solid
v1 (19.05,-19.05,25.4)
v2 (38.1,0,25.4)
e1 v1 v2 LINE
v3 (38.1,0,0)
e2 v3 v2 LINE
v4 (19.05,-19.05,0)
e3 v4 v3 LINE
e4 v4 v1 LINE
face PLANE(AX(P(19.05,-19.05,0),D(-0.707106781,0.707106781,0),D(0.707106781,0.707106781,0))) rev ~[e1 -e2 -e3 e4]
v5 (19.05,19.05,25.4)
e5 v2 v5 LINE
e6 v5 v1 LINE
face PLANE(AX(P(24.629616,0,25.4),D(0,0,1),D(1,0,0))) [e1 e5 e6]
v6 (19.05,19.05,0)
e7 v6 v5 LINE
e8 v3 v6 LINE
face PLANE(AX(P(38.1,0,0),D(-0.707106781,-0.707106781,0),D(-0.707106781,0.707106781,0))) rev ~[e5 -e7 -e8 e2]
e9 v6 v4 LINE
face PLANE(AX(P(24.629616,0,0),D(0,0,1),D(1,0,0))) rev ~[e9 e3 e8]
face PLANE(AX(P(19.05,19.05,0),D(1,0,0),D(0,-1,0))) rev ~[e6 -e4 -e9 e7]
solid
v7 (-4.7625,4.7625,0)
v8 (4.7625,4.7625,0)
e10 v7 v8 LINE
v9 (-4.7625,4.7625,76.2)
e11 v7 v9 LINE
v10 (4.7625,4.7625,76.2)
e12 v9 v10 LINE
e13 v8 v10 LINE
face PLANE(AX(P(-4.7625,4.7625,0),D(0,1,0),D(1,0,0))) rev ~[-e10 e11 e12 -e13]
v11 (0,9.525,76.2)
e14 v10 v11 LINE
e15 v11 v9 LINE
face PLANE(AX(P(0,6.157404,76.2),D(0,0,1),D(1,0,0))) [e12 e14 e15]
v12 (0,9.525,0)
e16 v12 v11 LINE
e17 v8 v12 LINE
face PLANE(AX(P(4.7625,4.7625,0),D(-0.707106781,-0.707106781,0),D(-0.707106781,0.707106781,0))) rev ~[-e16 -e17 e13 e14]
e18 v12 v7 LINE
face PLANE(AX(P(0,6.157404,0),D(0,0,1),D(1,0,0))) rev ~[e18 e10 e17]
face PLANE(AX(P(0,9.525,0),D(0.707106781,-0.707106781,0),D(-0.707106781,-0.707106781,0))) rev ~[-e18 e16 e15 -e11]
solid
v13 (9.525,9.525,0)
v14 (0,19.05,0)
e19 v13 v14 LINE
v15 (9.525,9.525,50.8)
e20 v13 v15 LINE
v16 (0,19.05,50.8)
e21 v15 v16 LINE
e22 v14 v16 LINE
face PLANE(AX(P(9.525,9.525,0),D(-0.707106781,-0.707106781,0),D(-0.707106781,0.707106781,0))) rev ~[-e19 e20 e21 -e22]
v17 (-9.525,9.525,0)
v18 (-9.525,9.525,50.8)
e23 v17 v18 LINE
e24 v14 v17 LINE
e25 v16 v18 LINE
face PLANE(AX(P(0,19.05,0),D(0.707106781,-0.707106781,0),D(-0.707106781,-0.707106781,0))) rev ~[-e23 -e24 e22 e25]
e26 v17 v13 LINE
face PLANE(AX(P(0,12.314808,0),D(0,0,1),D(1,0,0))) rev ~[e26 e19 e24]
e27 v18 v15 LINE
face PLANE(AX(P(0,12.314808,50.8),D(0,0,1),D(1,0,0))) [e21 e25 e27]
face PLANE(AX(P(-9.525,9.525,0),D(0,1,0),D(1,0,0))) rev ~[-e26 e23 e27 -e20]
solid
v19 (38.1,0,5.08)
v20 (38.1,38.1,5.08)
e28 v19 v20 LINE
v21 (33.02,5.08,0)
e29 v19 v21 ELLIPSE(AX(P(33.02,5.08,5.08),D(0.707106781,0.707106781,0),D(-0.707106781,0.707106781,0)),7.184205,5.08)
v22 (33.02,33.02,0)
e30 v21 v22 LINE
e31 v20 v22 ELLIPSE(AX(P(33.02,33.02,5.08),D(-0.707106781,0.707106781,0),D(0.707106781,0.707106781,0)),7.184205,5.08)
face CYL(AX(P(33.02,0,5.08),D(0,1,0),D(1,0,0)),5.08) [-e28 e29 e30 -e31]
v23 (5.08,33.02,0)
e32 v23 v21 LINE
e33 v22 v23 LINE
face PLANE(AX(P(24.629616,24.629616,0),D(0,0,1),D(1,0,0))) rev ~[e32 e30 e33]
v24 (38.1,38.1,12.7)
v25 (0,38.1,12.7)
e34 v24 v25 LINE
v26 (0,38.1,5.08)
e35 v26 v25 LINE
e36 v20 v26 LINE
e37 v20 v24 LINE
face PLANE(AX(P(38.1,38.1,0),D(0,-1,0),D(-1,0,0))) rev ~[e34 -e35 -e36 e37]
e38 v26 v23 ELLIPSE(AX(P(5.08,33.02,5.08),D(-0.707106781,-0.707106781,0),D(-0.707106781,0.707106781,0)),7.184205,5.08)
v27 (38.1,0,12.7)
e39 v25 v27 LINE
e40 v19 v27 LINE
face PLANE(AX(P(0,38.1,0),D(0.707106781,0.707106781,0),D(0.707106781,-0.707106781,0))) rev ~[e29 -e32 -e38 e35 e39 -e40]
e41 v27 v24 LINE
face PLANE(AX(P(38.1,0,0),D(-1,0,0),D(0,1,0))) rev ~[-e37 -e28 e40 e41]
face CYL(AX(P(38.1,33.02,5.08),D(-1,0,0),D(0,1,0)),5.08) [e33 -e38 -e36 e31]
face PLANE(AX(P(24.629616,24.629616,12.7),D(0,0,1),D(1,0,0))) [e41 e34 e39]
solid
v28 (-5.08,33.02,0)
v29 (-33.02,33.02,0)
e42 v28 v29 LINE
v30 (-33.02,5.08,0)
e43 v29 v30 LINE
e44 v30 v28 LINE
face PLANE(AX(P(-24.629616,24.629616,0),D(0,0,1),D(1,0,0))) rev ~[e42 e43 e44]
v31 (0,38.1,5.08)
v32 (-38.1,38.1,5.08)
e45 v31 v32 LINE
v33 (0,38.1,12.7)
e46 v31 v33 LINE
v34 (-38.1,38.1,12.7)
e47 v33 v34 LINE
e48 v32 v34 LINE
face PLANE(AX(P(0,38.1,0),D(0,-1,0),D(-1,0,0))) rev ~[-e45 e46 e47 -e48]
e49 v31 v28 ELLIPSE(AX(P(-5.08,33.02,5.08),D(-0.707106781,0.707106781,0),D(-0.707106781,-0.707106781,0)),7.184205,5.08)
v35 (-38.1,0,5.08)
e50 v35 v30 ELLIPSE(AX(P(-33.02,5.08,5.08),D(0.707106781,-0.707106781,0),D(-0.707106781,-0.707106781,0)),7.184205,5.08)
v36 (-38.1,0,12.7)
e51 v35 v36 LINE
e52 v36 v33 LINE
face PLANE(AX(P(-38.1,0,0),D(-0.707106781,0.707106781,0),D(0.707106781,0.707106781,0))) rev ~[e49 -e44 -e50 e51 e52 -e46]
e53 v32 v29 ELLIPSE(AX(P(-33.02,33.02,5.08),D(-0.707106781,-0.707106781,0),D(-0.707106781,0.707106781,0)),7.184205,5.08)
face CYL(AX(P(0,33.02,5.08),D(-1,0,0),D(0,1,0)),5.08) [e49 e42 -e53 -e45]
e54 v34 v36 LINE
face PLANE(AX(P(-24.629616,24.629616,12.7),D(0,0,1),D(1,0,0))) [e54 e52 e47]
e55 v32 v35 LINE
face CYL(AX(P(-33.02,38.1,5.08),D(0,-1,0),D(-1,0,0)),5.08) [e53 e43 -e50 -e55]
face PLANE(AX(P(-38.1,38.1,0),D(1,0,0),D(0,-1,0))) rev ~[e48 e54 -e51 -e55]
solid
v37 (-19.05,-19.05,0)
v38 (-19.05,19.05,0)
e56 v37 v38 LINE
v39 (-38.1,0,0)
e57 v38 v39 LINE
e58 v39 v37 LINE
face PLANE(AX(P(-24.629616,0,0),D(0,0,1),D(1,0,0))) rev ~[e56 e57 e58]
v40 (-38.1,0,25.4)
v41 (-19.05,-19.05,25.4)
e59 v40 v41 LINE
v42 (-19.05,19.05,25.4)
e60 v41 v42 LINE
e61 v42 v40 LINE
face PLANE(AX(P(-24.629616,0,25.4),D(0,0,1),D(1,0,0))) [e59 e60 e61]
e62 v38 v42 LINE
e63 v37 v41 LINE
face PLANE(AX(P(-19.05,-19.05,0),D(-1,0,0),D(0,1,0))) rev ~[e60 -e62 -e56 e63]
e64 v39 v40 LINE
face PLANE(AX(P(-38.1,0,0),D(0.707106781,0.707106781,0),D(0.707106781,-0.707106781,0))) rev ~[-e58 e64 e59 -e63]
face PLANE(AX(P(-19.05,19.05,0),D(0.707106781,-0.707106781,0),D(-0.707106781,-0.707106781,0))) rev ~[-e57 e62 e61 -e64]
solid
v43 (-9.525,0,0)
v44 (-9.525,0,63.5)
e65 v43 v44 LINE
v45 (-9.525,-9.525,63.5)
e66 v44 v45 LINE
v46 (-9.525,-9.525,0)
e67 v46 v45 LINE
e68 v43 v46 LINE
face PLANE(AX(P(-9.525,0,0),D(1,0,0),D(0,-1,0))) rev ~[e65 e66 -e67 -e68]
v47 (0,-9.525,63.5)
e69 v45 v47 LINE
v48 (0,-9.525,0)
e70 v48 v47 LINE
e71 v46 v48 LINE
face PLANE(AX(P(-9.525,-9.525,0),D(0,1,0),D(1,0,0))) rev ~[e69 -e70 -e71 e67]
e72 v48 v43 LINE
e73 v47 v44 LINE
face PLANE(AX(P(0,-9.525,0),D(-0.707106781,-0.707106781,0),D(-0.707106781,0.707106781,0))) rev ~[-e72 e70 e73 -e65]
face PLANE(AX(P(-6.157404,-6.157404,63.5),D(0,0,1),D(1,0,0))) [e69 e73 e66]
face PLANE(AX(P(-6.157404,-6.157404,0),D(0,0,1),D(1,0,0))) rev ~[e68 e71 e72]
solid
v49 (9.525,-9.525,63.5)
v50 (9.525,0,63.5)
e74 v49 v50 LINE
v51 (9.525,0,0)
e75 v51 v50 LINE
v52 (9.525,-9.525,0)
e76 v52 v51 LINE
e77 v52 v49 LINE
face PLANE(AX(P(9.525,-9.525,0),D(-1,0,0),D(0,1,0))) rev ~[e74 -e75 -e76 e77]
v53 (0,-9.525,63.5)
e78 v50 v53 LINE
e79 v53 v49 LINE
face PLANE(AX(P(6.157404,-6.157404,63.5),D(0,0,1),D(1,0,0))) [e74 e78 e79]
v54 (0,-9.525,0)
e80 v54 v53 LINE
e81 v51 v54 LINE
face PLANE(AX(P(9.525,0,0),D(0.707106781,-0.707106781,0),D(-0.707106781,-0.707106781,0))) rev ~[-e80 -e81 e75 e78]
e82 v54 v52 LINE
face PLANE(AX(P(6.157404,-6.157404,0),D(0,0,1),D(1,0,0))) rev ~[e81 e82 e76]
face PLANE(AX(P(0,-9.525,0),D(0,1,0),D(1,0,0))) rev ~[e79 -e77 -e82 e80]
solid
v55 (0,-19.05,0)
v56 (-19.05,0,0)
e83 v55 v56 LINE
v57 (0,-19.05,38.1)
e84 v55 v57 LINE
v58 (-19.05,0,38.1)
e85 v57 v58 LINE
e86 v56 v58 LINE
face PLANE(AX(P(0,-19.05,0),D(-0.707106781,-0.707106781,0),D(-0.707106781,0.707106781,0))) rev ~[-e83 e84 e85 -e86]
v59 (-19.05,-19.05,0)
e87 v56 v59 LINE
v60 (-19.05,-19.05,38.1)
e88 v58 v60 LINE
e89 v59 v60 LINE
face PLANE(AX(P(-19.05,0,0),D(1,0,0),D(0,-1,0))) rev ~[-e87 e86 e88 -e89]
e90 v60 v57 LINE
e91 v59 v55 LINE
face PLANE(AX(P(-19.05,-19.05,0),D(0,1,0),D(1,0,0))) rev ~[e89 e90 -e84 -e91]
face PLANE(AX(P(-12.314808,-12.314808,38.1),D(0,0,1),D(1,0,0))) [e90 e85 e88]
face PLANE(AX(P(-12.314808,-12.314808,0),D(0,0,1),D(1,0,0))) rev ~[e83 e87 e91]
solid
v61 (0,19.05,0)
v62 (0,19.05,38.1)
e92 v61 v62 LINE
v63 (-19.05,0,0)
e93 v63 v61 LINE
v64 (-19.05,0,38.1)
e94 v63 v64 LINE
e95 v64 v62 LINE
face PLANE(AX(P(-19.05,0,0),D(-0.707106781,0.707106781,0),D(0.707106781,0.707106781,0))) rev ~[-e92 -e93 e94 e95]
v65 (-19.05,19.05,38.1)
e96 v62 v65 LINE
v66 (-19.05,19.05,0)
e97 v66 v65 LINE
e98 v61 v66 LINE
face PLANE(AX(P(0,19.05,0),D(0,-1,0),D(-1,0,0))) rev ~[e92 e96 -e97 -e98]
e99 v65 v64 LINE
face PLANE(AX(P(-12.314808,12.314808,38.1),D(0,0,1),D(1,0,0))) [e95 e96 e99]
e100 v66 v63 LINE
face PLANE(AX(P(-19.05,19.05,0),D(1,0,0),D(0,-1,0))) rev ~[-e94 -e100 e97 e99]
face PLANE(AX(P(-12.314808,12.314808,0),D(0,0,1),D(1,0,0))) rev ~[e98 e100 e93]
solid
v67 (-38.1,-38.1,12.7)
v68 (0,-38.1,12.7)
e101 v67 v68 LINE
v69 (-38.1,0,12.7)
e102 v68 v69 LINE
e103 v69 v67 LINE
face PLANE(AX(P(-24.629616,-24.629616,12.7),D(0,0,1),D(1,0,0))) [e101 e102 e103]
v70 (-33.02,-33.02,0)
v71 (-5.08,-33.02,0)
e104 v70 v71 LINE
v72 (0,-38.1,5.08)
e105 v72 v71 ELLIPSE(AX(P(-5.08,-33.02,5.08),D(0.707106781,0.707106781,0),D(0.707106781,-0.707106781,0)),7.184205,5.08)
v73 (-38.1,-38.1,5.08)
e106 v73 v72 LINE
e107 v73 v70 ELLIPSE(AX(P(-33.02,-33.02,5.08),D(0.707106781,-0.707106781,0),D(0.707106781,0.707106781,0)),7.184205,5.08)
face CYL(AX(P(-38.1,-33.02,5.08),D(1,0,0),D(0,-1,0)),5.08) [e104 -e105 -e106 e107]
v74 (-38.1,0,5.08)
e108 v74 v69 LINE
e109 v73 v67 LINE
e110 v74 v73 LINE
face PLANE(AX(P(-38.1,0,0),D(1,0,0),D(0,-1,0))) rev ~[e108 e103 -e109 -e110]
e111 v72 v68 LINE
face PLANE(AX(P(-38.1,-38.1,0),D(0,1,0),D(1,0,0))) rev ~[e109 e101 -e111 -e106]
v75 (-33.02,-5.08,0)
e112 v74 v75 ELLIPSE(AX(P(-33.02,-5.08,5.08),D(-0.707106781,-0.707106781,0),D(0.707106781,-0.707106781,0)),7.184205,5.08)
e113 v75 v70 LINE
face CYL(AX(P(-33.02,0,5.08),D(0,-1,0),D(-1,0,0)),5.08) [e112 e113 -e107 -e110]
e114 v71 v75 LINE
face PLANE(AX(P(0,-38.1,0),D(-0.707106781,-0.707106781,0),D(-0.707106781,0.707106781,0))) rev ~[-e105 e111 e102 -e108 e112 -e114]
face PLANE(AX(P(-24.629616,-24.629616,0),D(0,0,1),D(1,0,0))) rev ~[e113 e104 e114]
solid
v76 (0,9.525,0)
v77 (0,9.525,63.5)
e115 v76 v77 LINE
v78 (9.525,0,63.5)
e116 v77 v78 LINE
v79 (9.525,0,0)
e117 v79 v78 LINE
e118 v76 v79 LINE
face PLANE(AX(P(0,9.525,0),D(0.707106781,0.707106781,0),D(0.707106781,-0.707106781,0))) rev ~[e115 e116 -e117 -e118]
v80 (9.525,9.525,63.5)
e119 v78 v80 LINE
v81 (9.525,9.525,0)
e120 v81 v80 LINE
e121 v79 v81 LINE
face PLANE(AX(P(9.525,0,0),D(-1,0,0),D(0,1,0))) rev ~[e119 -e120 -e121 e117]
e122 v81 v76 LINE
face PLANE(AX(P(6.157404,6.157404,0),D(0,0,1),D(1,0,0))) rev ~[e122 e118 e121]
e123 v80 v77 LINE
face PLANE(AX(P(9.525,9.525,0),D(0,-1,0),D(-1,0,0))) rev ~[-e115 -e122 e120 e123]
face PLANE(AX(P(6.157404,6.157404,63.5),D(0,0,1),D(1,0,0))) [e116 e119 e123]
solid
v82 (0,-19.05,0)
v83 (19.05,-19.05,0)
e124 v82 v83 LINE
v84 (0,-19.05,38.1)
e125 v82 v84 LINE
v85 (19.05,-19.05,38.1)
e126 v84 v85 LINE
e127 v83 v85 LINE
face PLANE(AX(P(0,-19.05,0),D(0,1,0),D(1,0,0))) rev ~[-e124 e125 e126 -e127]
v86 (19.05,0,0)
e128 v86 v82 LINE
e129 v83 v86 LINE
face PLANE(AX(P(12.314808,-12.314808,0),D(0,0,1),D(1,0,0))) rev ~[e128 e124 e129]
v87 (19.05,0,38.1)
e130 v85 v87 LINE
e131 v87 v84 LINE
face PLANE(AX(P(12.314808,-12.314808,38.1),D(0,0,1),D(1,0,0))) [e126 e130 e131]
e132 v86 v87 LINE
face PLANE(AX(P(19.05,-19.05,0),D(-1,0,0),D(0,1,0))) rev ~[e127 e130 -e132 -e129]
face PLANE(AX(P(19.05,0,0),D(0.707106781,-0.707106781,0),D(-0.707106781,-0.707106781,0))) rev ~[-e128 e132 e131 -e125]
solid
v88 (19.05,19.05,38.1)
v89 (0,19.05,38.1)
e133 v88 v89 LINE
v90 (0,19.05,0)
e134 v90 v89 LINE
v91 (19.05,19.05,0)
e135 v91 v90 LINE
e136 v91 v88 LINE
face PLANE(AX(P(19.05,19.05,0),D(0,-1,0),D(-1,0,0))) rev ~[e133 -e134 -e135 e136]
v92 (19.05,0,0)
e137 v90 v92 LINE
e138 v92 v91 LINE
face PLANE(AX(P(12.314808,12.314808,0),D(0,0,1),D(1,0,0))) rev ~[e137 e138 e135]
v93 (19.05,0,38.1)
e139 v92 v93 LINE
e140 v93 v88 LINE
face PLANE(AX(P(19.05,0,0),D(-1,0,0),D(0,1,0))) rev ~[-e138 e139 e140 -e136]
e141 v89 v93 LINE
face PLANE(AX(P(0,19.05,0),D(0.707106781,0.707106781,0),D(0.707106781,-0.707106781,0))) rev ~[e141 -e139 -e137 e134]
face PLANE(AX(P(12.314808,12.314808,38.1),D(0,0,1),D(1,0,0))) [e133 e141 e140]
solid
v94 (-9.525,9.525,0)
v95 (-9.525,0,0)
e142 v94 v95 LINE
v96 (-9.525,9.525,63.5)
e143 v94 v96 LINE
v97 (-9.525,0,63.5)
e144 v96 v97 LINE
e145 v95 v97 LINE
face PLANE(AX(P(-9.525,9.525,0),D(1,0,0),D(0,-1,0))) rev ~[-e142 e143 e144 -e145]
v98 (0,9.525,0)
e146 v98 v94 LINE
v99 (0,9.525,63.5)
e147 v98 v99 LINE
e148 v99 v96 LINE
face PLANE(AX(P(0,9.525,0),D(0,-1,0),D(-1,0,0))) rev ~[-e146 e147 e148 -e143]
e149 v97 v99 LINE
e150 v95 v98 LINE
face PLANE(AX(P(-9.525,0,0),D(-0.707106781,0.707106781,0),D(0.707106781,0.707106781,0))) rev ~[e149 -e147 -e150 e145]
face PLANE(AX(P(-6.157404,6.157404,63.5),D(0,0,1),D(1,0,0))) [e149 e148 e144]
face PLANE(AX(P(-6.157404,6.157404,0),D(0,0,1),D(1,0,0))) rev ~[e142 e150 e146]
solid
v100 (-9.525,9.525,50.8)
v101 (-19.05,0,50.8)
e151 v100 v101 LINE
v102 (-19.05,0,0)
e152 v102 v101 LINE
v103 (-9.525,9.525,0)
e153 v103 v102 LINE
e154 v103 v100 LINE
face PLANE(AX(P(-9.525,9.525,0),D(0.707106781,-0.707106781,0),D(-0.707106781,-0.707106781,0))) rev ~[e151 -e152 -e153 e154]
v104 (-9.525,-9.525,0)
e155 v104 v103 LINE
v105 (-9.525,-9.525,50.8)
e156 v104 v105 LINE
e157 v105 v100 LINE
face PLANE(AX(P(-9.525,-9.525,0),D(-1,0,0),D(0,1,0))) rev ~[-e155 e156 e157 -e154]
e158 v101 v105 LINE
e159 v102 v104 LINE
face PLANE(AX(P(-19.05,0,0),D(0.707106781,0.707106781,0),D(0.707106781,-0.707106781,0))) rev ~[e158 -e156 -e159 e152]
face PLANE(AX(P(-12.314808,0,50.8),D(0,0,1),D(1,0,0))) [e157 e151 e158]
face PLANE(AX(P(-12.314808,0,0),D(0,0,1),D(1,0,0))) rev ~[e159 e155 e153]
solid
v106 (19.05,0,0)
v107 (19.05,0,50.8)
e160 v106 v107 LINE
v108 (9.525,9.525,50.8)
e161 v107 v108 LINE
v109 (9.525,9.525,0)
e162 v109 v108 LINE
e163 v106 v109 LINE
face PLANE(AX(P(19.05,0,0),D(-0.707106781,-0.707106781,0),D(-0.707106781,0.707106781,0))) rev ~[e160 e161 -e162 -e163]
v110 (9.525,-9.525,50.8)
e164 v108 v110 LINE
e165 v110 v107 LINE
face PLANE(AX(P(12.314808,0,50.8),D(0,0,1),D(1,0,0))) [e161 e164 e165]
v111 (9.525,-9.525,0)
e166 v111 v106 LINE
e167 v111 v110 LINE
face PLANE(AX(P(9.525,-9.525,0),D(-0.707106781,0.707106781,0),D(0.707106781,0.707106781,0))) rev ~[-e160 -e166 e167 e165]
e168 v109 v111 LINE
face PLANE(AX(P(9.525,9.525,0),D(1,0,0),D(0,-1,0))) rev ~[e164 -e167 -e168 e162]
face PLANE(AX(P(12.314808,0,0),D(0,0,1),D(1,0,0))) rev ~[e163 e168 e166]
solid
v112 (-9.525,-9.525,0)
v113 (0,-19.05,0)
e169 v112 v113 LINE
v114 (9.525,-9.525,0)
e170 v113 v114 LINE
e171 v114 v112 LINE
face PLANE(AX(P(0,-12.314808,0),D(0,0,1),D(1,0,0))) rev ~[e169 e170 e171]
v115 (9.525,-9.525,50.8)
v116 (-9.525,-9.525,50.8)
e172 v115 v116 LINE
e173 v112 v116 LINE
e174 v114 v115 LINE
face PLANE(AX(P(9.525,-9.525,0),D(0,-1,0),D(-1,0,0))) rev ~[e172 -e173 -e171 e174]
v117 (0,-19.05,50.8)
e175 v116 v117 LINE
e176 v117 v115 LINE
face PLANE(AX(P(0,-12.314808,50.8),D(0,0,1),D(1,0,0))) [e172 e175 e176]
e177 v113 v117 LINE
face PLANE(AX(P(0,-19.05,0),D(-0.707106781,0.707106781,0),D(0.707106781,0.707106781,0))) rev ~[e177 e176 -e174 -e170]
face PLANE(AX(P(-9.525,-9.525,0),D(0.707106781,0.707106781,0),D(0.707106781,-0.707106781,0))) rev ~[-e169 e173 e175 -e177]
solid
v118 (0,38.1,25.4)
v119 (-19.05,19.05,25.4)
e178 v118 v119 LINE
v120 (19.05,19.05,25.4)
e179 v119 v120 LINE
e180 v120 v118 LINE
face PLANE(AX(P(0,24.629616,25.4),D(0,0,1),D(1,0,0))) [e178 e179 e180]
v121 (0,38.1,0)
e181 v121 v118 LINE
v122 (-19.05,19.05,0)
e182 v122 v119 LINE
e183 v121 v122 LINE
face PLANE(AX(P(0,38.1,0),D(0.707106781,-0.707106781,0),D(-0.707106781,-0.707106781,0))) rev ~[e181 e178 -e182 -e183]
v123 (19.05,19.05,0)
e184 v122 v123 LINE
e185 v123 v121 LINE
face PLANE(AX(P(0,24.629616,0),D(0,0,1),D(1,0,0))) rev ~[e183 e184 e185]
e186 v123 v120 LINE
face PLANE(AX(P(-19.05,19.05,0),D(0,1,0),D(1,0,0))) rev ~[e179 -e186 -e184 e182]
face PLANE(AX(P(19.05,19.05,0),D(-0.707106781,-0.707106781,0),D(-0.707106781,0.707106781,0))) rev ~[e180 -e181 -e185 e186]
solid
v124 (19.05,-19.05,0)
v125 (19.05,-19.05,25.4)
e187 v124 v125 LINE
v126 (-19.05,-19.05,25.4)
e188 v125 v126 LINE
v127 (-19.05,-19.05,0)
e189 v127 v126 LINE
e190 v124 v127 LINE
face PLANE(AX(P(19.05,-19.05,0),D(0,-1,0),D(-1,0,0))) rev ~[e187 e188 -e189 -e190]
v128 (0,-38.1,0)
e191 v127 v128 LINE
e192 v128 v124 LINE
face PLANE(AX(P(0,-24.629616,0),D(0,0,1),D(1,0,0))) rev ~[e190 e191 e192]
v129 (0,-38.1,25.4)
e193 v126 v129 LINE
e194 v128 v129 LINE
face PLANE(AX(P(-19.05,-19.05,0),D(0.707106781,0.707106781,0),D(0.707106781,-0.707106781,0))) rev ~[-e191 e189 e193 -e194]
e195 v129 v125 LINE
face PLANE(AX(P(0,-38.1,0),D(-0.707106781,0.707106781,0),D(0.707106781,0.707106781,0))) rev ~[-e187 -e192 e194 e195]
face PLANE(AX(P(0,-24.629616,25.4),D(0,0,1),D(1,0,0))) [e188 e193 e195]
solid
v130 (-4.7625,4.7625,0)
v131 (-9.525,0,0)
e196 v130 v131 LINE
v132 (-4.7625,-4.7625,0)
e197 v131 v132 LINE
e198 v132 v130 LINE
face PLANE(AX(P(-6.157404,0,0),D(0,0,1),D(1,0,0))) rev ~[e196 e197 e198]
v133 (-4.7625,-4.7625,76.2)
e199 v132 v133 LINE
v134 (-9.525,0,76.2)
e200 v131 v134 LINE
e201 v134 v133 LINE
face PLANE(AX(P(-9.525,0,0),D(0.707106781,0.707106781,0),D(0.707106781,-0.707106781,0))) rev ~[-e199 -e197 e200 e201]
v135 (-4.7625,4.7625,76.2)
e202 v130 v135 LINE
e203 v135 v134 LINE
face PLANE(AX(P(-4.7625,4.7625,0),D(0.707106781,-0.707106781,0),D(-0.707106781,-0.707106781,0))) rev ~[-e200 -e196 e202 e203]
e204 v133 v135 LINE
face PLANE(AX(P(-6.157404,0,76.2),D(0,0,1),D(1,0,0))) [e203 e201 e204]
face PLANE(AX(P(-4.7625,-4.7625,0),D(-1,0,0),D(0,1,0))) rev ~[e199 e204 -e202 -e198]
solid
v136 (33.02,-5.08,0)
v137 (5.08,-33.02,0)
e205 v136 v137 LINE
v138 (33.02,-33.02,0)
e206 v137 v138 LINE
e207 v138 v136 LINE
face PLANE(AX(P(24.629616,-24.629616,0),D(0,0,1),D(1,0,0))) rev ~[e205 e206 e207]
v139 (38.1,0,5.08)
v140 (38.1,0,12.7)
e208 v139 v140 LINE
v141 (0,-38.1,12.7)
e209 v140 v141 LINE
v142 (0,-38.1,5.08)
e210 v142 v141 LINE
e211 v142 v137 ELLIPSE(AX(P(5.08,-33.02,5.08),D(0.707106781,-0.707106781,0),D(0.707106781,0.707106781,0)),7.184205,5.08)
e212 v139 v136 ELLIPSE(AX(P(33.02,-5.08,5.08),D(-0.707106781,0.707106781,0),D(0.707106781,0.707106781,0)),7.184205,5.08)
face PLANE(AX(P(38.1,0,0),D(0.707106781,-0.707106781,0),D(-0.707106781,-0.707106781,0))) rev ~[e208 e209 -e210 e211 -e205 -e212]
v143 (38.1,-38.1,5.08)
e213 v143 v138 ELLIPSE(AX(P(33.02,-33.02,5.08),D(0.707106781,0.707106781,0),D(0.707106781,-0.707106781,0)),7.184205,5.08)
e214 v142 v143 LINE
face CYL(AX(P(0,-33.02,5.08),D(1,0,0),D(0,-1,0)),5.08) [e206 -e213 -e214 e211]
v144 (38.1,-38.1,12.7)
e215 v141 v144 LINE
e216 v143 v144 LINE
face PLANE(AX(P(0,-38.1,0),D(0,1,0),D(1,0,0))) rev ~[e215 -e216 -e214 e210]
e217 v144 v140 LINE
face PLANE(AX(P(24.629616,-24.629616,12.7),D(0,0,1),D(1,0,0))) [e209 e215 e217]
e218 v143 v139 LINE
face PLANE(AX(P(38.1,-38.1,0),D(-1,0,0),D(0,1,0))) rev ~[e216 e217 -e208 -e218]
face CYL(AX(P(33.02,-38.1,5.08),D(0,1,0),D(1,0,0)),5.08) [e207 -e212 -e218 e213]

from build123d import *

# Parameters (mm, degrees)
F1_DEPTH = 12.7
F2_DEPTH = 25.4
F3_DEPTH = 38.1
F4_DEPTH = 50.8
F5_DEPTH = 63.5
F6_DEPTH = 76.2
F7_R     = 5.08
F7_2_R   = 5.08
F7_3_R   = 5.08
F7_4_R   = 5.08


with BuildPart() as f1:
    # F0 (on Top) → F1 (new body)
    with BuildSketch(Plane.XY):
        Polygon((0, 38.1), (-38.1, 38.1), (-38.1, 0), (-19.05, 19.05), align=None)
    extrude(amount=F1_DEPTH)

    # F7#4
    f7_4_edges = [f1.edges().sort_by_distance(p)[0] for p in [
        (-19.05, 38.1, 0),
        (-38.1, 19.05, 0),
    ]]
    fillet(f7_4_edges, radius=F7_4_R)


with BuildPart() as f1b:
    # F0 (on Top) → F1, piece 2 (new body)
    with BuildSketch(Plane.XY):
        Polygon((38.1, 38.1), (0, 38.1), (19.05, 19.05), (38.1, 0), align=None)
    extrude(amount=F1_DEPTH)

    # F7#3
    f7_3_edges = [f1b.edges().sort_by_distance(p)[0] for p in [
        (38.1, 19.05, 0),
        (19.05, 38.1, 0),
    ]]
    fillet(f7_3_edges, radius=F7_3_R)


with BuildPart() as f1c:
    # F0 (on Top) → F1, piece 3 (new body)
    with BuildSketch(Plane.XY):
        Polygon((19.05, -19.05), (0, -38.1), (38.1, -38.1), (38.1, 0), align=None)
    extrude(amount=F1_DEPTH)

    # F7#2
    f7_2_edges = [f1c.edges().sort_by_distance(p)[0] for p in [
        (19.05, -38.1, 0),
        (38.1, -19.05, 0),
    ]]
    fillet(f7_2_edges, radius=F7_2_R)


with BuildPart() as f1d:
    # F0 (on Top) → F1, piece 4 (new body)
    with BuildSketch(Plane.XY):
        Polygon((-19.05, -19.05), (-38.1, 0), (-38.1, -38.1), (0, -38.1), align=None)
    extrude(amount=F1_DEPTH)

    # F7
    f7_edges = [f1d.edges().sort_by_distance(p)[0] for p in [
        (-19.05, -38.1, 0),
        (-38.1, -19.05, 0),
    ]]
    fillet(f7_edges, radius=F7_R)


with BuildPart() as f2:
    # F0 (on Top) → F2 (new body)
    with BuildSketch(Plane.XY):
        Polygon((-19.05, 19.05), (-38.1, 0), (-19.05, -19.05), (-19.05, 0), align=None)
    extrude(amount=F2_DEPTH)


with BuildPart() as f2b:
    # F0 (on Top) → F2, piece 2 (new body)
    with BuildSketch(Plane.XY):
        Polygon((19.05, 19.05), (0, 38.1), (-19.05, 19.05), (0, 19.05), align=None)
    extrude(amount=F2_DEPTH)


with BuildPart() as f2c:
    # F0 (on Top) → F2, piece 3 (new body)
    with BuildSketch(Plane.XY):
        Polygon((38.1, 0), (19.05, 19.05), (19.05, 0), (19.05, -19.05), align=None)
    extrude(amount=F2_DEPTH)


with BuildPart() as f2d:
    # F0 (on Top) → F2, piece 4 (new body)
    with BuildSketch(Plane.XY):
        Polygon((0, -19.05), (-19.05, -19.05), (0, -38.1), (19.05, -19.05), align=None)
    extrude(amount=F2_DEPTH)


with BuildPart() as f3:
    # F0 (on Top) → F3 (new body)
    with BuildSketch(Plane.XY):
        Polygon((0, 19.05), (-19.05, 19.05), (-19.05, 0), (-9.525, 9.525), align=None)
    extrude(amount=F3_DEPTH)


with BuildPart() as f3b:
    # F0 (on Top) → F3, piece 2 (new body)
    with BuildSketch(Plane.XY):
        Polygon((-19.05, 0), (-19.05, -19.05), (0, -19.05), (-9.525, -9.525), align=None)
    extrude(amount=F3_DEPTH)


with BuildPart() as f3c:
    # F0 (on Top) → F3, piece 3 (new body)
    with BuildSketch(Plane.XY):
        Polygon((9.525, -9.525), (0, -19.05), (19.05, -19.05), (19.05, 0), align=None)
    extrude(amount=F3_DEPTH)


with BuildPart() as f3d:
    # F0 (on Top) → F3, piece 4 (new body)
    with BuildSketch(Plane.XY):
        Polygon((19.05, 0), (19.05, 19.05), (0, 19.05), (9.525, 9.525), align=None)
    extrude(amount=F3_DEPTH)


with BuildPart() as f4:
    # F0 (on Top) → F4 (new body)
    with BuildSketch(Plane.XY):
        Polygon((-9.525, 9.525), (-19.05, 0), (-9.525, -9.525), (-9.525, 0), align=None)
    extrude(amount=F4_DEPTH)


with BuildPart() as f4b:
    # F0 (on Top) → F4, piece 2 (new body)
    with BuildSketch(Plane.XY):
        Polygon((-9.525, -9.525), (0, -19.05), (9.525, -9.525), (0, -9.525), align=None)
    extrude(amount=F4_DEPTH)


with BuildPart() as f4c:
    # F0 (on Top) → F4, piece 3 (new body)
    with BuildSketch(Plane.XY):
        Polygon((9.525, -9.525), (19.05, 0), (9.525, 9.525), (9.525, 0), align=None)
    extrude(amount=F4_DEPTH)


with BuildPart() as f4d:
    # F0 (on Top) → F4, piece 4 (new body)
    with BuildSketch(Plane.XY):
        Polygon((9.525, 9.525), (0, 19.05), (-9.525, 9.525), (0, 9.525), align=None)
    extrude(amount=F4_DEPTH)


with BuildPart() as f5:
    # F0 (on Top) → F5 (new body)
    with BuildSketch(Plane.XY):
        Polygon((0, 9.525), (-9.525, 9.525), (-9.525, 0), (-4.7625, 4.7625), align=None)
    extrude(amount=F5_DEPTH)


with BuildPart() as f5b:
    # F0 (on Top) → F5, piece 2 (new body)
    with BuildSketch(Plane.XY):
        Polygon((0, -9.525), (9.525, -9.525), (9.525, 0), (4.7625, -4.7625), align=None)
    extrude(amount=F5_DEPTH)


with BuildPart() as f5c:
    # F0 (on Top) → F5, piece 3 (new body)
    with BuildSketch(Plane.XY):
        Polygon((9.525, 0), (9.525, 9.525), (0, 9.525), (4.7625, 4.7625), align=None)
    extrude(amount=F5_DEPTH)


with BuildPart() as f5d:
    # F0 (on Top) → F5, piece 4 (new body)
    with BuildSketch(Plane.XY):
        Polygon((-9.525, 0), (-9.525, -9.525), (0, -9.525), (-4.7625, -4.7625), align=None)
    extrude(amount=F5_DEPTH)


with BuildPart() as f6:
    # F0 (on Top) → F6 (new body)
    with BuildSketch(Plane.XY):
        Polygon((4.7625, 4.7625), (0, 9.525), (-4.7625, 4.7625), align=None)
    extrude(amount=F6_DEPTH)


with BuildPart() as f6b:
    # F0 (on Top) → F6, piece 2 (new body)
    with BuildSketch(Plane.XY):
        Polygon((-4.7625, 4.7625), (-9.525, 0), (-4.7625, -4.7625), align=None)
    extrude(amount=F6_DEPTH)


solid = Compound([f1.part, f1b.part, f1c.part, f1d.part, f2.part, f2b.part, f2c.part, f2d.part, f3.part, f3b.part, f3c.part, f3d.part, f4.part, f4b.part, f4c.part, f4d.part, f5.part, f5b.part, f5c.part, f5d.part, f6.part, f6b.part])
